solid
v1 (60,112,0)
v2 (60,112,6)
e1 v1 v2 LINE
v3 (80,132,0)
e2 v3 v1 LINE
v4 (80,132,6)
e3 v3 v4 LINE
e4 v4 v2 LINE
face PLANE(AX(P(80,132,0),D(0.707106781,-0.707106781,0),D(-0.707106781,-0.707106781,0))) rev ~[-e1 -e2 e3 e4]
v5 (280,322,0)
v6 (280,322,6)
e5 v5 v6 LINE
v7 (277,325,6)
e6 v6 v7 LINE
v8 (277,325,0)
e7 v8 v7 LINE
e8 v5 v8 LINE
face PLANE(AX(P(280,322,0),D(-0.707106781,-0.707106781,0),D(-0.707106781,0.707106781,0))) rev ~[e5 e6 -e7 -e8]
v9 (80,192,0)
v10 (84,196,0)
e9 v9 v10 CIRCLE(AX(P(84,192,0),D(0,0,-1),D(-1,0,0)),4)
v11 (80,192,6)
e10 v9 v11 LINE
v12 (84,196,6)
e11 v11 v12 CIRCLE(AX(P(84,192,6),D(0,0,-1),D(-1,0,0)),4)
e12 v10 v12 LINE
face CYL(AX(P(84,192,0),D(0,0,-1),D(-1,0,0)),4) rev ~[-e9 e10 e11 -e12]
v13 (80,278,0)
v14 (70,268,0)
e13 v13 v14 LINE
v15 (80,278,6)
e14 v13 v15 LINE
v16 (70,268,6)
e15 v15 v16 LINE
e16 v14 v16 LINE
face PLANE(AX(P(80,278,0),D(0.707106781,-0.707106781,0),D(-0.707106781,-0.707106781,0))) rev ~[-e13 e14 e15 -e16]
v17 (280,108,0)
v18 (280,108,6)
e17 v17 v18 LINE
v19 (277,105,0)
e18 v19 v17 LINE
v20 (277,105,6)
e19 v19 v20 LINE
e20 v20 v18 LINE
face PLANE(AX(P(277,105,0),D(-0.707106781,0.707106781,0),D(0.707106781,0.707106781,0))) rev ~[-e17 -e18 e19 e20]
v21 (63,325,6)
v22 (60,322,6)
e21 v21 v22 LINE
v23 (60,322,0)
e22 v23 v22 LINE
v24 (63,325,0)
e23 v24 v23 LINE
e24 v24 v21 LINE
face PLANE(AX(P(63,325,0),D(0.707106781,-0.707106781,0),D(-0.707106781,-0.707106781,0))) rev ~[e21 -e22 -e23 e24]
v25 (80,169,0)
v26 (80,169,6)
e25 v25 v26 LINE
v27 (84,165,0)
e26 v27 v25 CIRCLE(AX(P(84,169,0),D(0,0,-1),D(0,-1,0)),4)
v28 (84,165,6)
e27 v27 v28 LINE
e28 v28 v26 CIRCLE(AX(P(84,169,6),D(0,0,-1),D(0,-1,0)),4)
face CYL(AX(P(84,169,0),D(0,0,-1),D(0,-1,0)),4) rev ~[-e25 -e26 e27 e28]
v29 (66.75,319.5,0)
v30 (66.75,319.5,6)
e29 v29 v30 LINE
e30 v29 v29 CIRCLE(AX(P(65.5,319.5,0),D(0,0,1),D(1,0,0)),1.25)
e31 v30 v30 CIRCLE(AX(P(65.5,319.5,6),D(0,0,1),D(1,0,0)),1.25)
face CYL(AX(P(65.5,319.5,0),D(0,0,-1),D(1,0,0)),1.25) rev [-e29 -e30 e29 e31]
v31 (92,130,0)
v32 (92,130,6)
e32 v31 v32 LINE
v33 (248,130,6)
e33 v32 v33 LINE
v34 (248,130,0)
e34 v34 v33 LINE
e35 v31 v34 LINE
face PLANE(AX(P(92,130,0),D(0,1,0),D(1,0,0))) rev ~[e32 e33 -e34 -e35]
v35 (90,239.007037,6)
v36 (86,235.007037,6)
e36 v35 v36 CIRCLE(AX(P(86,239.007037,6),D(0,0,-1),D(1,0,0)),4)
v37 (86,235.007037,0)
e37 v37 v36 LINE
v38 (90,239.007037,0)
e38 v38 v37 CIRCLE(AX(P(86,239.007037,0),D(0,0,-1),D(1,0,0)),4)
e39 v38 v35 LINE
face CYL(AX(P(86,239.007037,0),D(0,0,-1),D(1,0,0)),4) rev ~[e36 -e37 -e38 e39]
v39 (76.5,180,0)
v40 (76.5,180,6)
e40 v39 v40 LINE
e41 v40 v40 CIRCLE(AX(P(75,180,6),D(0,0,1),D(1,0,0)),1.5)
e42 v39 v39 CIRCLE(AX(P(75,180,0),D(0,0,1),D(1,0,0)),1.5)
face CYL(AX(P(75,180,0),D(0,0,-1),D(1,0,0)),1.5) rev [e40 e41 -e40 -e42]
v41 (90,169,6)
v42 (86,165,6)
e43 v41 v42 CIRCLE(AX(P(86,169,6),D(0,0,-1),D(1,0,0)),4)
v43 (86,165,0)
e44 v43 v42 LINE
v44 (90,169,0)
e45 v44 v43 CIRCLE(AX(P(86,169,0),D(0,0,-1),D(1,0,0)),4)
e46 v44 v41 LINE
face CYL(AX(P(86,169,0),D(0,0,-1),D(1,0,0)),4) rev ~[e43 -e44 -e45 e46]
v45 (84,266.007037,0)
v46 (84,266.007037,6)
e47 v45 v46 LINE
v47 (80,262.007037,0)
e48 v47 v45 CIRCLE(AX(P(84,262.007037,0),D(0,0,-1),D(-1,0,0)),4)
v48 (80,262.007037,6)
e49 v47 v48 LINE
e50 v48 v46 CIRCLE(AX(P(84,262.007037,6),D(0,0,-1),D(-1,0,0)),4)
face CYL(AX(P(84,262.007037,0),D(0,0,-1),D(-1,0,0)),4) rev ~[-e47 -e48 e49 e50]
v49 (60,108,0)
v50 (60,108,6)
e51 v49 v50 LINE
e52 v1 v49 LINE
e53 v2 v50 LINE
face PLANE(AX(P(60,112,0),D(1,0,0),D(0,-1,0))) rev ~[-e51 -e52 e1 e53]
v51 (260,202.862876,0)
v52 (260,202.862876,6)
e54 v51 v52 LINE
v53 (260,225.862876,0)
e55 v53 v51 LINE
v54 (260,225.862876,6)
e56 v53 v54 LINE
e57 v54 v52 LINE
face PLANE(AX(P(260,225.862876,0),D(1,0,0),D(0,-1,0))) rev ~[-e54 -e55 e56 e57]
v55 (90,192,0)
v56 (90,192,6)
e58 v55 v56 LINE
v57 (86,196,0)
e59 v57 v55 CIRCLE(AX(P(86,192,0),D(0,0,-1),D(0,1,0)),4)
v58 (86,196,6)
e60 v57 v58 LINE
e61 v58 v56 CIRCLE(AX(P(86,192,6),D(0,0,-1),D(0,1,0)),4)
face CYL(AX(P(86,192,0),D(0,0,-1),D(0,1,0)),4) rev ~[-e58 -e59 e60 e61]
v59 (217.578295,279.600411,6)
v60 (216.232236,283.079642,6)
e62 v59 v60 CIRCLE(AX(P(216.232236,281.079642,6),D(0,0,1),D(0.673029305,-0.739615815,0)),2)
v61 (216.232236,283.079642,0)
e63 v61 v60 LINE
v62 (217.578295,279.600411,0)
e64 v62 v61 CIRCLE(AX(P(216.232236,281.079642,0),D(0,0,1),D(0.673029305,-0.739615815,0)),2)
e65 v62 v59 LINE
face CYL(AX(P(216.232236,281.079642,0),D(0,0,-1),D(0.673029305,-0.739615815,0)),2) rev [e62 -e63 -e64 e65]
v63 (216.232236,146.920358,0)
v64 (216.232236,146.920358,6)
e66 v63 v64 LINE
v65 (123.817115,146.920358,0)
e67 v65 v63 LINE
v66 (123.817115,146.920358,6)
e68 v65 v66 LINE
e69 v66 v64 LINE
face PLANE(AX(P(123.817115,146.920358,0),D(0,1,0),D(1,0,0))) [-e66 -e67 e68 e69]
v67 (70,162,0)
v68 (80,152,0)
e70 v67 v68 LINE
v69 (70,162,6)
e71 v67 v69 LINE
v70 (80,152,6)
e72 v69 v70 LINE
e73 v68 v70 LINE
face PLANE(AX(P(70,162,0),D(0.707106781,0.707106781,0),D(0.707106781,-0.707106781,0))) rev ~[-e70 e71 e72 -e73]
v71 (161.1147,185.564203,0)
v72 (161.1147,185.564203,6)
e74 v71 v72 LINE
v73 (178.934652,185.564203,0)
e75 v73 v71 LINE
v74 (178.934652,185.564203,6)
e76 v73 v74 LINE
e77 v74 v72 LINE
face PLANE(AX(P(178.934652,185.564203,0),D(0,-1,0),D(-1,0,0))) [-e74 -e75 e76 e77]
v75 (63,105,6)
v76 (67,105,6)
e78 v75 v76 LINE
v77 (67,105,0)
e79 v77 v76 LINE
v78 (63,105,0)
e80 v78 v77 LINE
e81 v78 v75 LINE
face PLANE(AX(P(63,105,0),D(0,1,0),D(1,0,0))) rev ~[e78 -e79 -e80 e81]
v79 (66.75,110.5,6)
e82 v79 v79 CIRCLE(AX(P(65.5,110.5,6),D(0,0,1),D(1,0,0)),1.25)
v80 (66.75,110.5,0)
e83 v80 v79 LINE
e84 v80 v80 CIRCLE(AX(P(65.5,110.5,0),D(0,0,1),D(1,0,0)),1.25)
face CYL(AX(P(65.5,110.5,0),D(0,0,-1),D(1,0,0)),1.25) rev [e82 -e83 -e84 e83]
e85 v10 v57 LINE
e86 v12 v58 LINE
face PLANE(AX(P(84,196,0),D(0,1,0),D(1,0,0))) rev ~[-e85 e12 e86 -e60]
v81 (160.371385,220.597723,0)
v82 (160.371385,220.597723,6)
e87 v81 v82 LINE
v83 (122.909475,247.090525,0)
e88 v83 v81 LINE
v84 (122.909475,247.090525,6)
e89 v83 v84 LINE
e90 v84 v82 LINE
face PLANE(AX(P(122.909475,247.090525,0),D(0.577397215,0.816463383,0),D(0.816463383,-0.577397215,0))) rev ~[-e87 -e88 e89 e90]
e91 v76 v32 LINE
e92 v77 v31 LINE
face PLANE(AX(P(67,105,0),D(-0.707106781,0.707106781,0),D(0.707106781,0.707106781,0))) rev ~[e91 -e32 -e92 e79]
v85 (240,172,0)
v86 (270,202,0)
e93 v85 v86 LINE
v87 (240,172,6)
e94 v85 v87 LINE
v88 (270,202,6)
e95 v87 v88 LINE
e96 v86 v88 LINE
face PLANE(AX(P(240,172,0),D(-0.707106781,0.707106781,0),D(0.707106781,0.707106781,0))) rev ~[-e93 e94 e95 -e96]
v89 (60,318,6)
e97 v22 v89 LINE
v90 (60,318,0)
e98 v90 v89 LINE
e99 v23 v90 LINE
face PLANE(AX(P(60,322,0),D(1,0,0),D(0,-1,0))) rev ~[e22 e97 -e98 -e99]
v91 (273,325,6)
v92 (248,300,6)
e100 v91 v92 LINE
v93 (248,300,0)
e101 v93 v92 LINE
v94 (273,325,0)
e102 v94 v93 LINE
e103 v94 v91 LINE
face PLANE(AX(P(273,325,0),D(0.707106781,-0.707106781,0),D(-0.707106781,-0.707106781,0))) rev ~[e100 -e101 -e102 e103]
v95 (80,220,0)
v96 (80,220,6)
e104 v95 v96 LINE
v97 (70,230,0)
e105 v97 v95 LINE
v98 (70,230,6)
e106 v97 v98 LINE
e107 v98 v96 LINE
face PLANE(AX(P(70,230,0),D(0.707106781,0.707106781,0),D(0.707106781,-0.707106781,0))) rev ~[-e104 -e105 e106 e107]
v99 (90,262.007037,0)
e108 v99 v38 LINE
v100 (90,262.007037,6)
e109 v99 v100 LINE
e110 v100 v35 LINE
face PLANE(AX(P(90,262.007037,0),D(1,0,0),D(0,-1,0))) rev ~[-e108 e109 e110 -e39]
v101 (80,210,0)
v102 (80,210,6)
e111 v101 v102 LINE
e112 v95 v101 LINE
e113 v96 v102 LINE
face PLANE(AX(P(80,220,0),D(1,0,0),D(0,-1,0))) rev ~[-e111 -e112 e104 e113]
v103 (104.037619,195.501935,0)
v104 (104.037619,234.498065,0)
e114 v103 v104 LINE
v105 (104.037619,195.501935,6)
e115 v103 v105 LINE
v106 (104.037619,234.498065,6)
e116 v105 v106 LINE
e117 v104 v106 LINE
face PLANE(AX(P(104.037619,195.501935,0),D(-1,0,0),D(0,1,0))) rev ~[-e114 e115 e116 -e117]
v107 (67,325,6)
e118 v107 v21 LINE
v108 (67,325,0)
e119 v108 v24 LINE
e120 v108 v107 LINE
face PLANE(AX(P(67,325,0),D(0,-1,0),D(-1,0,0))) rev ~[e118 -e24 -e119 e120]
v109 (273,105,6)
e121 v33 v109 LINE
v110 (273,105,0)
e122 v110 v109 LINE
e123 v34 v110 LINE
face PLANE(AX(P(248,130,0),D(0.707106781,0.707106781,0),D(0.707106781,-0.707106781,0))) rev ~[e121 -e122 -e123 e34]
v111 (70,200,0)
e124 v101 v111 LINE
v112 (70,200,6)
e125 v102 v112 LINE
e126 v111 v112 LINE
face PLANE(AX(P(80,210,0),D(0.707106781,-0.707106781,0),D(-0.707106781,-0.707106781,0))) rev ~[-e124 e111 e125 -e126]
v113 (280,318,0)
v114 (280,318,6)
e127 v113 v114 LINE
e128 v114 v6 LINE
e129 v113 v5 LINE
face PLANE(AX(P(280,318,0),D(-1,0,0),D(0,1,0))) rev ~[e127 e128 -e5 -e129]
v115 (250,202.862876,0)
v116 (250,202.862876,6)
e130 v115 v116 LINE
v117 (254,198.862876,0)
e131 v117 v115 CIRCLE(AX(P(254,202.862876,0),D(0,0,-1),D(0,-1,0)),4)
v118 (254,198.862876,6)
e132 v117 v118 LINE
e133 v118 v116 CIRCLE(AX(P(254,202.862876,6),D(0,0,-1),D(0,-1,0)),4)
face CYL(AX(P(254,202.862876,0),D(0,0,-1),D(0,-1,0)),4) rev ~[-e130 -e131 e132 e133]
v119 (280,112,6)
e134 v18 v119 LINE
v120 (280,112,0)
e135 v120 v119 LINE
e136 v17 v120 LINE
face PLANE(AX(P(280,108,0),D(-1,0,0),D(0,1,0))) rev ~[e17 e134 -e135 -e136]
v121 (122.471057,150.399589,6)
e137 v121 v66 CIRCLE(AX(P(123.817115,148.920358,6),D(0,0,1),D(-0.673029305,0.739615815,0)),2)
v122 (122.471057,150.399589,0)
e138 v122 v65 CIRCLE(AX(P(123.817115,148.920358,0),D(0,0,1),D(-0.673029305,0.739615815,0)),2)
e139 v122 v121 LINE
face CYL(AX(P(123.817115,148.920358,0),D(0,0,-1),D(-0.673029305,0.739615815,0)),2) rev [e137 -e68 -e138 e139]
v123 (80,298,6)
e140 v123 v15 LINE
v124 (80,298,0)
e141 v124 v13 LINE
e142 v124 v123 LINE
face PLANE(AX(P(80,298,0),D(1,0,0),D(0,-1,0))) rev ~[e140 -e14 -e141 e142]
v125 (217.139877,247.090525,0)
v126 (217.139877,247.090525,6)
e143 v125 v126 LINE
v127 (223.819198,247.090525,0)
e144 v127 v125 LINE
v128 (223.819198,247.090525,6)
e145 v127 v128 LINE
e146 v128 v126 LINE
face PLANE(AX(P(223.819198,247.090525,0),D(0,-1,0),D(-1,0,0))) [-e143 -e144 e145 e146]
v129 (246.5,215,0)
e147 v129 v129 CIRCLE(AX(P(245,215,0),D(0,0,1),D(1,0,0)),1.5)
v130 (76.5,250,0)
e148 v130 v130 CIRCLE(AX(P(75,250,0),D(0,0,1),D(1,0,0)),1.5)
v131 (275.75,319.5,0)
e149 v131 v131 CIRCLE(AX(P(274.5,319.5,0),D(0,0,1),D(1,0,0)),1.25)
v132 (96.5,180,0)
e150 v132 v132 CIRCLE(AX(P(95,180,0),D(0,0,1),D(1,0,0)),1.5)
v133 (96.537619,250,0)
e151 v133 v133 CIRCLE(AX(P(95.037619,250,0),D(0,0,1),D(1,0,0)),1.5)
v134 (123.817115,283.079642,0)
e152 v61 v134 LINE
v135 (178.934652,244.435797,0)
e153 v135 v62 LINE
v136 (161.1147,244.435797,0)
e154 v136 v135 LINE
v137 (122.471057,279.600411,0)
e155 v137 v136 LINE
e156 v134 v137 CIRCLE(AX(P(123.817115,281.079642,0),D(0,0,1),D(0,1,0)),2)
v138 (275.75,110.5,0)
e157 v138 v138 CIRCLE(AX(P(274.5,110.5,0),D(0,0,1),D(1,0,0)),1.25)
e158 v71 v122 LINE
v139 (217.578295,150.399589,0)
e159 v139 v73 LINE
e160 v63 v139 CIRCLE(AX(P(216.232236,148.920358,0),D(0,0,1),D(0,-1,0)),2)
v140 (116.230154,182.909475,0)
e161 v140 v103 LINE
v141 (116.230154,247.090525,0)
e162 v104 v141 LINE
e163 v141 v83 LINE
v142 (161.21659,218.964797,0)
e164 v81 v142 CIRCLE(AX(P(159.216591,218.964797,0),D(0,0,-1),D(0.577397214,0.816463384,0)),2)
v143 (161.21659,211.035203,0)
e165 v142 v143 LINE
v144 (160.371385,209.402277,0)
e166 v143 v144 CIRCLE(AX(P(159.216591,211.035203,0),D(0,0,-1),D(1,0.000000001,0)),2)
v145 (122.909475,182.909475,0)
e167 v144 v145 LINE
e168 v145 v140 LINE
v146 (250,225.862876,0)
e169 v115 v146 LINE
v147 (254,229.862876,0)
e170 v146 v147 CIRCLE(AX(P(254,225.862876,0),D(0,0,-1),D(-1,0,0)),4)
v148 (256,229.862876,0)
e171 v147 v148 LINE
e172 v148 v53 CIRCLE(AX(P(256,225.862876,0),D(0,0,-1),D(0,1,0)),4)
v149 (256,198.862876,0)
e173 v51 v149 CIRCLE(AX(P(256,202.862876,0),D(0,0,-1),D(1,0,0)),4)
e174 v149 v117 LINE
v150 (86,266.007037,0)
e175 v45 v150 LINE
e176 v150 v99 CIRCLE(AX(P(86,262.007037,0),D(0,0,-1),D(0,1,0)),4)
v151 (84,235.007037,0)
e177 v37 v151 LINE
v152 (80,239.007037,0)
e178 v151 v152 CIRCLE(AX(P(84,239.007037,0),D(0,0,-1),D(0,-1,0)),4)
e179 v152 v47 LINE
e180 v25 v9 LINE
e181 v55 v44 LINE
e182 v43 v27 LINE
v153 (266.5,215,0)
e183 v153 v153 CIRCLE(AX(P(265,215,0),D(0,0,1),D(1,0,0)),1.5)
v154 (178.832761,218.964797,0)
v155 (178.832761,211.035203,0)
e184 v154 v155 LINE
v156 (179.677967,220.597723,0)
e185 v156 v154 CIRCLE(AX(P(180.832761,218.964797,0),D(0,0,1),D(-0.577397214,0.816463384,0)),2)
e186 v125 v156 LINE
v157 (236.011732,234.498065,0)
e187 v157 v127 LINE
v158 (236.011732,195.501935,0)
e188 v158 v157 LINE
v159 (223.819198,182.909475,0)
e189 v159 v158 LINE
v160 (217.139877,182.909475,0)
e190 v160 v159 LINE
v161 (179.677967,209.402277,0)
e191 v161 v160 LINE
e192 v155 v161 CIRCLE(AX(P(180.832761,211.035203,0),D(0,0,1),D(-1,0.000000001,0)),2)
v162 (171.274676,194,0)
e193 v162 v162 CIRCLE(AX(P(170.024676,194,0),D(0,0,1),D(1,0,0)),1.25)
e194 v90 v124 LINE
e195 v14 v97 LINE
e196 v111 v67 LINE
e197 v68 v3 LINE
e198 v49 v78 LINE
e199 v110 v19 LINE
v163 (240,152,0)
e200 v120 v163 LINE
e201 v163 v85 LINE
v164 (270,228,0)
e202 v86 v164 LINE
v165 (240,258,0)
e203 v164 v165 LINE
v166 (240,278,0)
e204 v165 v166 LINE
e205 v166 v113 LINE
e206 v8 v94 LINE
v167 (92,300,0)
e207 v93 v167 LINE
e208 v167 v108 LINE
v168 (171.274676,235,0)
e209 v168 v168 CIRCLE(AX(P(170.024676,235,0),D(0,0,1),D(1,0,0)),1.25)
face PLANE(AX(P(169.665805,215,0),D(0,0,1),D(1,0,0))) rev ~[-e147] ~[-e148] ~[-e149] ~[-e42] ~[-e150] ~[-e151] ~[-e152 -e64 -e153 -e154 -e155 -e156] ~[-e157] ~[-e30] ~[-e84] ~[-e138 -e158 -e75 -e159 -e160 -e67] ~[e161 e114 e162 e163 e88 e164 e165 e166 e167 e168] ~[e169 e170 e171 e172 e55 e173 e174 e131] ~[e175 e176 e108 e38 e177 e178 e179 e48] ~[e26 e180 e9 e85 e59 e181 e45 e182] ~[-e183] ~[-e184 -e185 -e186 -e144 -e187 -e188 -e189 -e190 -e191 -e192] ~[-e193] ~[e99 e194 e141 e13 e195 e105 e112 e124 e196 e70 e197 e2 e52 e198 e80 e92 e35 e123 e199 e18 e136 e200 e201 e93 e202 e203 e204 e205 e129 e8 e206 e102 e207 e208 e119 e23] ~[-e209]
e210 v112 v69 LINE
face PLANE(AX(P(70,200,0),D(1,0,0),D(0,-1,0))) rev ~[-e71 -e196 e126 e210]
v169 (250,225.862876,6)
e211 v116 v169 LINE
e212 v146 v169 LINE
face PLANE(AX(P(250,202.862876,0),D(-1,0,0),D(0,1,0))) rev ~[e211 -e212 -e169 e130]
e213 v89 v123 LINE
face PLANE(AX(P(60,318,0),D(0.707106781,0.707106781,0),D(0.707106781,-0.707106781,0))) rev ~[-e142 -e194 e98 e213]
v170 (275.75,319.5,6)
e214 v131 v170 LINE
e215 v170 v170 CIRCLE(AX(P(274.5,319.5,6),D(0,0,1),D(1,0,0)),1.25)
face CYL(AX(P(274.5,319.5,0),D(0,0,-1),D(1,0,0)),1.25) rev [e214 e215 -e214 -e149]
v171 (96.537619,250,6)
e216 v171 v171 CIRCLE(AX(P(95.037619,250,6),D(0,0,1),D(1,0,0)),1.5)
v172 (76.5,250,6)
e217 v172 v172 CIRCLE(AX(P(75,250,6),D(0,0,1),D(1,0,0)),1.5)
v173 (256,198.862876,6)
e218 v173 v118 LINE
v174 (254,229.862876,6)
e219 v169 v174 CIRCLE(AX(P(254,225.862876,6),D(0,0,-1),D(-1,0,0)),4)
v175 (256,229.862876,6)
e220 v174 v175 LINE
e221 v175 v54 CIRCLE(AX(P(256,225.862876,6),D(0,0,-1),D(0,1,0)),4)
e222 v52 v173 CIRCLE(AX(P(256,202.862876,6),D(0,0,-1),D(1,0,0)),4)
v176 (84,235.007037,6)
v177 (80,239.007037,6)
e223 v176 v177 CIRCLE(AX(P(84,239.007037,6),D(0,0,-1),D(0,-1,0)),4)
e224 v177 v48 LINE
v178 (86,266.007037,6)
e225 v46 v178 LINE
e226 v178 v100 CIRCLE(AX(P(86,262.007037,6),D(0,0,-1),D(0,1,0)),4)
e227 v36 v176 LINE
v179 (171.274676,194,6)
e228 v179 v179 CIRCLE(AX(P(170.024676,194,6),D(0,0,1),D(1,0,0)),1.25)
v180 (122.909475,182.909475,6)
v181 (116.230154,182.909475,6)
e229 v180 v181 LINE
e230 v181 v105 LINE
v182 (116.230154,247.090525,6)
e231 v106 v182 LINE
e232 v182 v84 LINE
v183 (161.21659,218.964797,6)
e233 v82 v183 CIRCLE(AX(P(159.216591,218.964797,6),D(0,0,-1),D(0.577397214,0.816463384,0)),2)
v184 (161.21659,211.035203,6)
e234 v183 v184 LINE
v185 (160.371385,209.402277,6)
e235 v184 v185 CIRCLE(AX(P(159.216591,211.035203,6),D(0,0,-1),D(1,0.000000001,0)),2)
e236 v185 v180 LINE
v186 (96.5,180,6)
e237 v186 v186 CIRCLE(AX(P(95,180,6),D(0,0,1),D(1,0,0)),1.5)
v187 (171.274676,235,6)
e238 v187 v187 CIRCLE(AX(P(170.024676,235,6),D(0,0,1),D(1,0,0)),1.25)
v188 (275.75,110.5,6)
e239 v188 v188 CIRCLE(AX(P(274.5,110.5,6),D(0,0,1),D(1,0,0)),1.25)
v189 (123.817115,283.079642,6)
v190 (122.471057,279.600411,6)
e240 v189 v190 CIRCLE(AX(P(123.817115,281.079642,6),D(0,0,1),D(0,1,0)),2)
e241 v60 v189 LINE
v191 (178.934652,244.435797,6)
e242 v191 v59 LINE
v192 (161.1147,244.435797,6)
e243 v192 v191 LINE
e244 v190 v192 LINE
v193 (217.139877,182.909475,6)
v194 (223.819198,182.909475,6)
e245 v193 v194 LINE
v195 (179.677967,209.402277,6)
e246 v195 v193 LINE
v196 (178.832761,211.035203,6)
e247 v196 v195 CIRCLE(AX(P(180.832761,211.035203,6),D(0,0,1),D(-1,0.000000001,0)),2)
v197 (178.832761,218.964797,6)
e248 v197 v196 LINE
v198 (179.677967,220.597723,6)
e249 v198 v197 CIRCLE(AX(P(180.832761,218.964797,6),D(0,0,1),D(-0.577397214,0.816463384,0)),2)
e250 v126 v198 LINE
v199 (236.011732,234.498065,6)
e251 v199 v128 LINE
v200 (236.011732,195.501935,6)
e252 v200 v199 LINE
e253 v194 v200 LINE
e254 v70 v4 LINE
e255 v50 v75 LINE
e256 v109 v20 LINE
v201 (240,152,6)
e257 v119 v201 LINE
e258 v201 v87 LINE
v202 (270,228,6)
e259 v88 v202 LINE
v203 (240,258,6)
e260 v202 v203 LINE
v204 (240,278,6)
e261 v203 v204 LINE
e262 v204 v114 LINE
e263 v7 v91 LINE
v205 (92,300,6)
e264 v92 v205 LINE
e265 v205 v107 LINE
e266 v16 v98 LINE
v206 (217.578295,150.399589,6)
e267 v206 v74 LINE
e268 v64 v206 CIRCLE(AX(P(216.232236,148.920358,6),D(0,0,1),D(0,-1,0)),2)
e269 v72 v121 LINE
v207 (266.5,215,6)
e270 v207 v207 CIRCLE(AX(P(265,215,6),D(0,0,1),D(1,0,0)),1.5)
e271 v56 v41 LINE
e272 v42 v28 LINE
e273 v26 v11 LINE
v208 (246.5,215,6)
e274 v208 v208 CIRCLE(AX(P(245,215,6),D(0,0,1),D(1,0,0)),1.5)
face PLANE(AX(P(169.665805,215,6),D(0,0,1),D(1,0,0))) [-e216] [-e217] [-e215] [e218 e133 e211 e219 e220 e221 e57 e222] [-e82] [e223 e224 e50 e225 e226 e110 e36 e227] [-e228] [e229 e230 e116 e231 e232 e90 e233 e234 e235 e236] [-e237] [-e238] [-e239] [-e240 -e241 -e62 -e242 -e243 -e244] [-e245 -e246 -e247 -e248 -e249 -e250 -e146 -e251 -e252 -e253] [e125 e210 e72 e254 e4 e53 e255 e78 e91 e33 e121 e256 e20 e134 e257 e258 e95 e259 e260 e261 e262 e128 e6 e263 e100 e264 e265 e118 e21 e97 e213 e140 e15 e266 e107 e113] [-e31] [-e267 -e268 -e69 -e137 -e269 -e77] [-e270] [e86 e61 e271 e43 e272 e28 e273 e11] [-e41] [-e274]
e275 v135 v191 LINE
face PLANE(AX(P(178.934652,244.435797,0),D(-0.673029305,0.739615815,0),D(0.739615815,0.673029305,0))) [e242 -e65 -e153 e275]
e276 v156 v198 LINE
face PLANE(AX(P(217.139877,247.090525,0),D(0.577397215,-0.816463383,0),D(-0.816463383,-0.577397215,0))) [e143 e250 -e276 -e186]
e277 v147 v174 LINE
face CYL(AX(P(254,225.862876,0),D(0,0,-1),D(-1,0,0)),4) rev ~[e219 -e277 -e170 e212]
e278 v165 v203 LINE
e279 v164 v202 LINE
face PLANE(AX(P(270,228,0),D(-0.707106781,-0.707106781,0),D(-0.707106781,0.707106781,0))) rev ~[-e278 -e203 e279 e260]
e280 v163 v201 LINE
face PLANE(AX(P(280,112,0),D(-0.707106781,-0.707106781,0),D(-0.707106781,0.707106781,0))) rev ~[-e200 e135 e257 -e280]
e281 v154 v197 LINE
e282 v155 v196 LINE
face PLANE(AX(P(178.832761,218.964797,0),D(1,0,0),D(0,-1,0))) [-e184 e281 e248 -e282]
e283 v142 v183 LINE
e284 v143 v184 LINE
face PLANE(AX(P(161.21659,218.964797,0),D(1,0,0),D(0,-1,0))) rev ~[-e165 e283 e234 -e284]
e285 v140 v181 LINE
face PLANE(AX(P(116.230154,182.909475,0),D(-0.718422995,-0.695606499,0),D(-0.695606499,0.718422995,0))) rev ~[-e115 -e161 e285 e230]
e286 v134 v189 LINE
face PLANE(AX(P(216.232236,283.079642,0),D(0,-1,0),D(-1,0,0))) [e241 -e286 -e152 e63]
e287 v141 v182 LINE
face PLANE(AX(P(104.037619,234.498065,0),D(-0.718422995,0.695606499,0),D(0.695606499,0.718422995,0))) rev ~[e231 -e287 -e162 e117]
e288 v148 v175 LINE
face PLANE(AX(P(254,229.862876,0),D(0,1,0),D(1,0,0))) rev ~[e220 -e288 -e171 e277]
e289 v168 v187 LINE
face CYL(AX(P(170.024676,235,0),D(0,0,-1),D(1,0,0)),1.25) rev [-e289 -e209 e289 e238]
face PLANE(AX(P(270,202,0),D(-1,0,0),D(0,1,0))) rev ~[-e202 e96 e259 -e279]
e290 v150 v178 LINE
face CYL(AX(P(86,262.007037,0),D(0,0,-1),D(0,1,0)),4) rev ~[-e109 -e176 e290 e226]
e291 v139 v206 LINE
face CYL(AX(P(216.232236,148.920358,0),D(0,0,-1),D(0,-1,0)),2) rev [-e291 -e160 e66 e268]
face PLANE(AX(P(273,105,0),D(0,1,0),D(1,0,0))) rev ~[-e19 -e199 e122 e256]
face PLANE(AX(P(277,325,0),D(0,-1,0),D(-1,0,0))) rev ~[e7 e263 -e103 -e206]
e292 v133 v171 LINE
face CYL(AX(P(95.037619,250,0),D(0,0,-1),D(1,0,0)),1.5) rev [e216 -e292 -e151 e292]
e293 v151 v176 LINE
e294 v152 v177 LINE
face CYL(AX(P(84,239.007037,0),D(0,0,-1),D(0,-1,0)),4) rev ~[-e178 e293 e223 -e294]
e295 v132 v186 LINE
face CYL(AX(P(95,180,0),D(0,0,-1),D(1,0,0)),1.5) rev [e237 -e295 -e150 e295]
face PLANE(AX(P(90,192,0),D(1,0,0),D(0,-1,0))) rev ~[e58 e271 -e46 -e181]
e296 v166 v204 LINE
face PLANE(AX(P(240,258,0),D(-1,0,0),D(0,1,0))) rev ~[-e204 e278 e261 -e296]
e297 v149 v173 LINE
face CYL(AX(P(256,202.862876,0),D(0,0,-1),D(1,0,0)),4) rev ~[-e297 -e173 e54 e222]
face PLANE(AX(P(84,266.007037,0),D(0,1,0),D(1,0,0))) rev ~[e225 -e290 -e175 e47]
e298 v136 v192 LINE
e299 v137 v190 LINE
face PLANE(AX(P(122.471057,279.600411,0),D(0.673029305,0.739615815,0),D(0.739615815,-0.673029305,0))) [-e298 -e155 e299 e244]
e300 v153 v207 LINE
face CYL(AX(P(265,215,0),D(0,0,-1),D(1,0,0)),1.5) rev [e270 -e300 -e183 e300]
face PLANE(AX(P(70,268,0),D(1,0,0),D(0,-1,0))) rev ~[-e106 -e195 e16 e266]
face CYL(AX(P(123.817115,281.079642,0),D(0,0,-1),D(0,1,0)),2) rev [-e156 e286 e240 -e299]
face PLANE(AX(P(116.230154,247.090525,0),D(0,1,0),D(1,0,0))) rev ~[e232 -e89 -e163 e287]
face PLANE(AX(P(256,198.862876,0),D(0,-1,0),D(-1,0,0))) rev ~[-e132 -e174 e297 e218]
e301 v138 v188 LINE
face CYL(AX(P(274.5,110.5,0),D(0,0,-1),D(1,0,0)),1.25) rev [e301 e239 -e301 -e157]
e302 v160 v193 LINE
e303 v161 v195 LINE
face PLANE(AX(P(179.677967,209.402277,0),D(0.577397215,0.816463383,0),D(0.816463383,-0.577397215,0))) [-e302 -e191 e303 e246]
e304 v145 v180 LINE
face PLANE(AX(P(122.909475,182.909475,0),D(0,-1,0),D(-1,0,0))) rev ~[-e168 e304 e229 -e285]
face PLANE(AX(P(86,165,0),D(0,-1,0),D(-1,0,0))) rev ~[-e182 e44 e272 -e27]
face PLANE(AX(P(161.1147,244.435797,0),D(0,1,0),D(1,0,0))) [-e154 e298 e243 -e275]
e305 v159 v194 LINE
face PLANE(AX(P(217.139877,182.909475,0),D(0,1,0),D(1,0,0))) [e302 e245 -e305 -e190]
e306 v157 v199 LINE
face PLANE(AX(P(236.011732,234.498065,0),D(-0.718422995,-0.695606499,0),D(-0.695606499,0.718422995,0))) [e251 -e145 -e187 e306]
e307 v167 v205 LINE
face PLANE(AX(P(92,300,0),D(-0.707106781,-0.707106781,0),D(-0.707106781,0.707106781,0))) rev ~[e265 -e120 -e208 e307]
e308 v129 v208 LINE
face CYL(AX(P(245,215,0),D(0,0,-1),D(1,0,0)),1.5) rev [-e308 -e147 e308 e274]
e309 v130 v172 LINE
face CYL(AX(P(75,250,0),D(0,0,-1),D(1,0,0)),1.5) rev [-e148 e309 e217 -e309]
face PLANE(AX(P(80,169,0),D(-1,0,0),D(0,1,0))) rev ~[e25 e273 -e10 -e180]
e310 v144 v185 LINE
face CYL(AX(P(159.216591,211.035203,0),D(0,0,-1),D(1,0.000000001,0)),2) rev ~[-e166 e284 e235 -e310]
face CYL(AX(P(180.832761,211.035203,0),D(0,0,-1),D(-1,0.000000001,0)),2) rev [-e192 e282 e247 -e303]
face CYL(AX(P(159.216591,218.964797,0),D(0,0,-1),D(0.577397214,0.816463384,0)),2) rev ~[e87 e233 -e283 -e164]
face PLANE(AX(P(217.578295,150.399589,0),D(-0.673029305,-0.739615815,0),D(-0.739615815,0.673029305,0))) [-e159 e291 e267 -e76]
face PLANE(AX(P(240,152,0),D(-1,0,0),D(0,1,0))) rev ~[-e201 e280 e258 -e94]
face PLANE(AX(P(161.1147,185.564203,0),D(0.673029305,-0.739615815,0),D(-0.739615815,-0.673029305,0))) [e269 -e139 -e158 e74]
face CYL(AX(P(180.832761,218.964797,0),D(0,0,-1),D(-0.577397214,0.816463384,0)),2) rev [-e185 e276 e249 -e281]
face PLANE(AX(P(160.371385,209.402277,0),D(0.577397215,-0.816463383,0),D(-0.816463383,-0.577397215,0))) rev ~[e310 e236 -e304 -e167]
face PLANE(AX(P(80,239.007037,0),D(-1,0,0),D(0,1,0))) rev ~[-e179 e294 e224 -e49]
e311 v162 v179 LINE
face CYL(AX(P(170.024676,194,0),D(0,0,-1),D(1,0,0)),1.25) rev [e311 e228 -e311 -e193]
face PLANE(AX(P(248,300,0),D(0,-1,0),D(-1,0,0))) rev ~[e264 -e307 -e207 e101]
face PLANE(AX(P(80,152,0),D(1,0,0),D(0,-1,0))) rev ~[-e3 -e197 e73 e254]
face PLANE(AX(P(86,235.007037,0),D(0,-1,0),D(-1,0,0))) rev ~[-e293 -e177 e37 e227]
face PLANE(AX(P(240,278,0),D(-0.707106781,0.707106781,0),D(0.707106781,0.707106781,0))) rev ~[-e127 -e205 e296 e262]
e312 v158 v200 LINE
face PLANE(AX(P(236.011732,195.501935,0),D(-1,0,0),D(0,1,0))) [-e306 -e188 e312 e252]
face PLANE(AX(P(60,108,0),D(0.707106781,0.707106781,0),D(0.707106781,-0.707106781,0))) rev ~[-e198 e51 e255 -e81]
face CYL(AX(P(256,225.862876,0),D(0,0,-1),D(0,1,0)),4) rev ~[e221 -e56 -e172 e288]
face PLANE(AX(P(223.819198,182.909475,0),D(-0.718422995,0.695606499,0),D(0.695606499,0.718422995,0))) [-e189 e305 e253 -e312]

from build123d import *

# Parameters (mm, degrees)
FRAME_R             = 1.5
FRAME_R_2           = 1.25
BOSS_EXTRUDE1_DEPTH = 6


with BuildPart() as part:
    # FRAME → Boss-Extrude1 (new body)
    with BuildSketch(Plane.XY):
        Polygon((65, 325), (63, 325), (60, 322), (60, 320), (60, 318), (80, 298), (80, 278), (70, 268), (70, 230), (80, 220), (80, 210), (70, 200), (70, 162), (80, 152), (80, 132), (60, 112), (60, 108), (63, 105), (65, 105), (67, 105), (92, 130), (248, 130), (273, 105), (275, 105), (277, 105), (280, 108), (280, 112), (260, 132), (240, 152), (240, 172), (260, 192), (270, 202), (270, 228), (260, 238), (240, 258), (240, 278), (280, 318), (280, 321), (280, 322), (277, 325), (273, 325), (250, 302), (248, 300), (92, 300), (67, 325), align=None)
        with Locations((75, 250)):
            Circle(FRAME_R, mode=Mode.SUBTRACT)
        with Locations((95.037619408, 250)):
            Circle(FRAME_R, mode=Mode.SUBTRACT)
        with Locations((75, 180)):
            Circle(FRAME_R, mode=Mode.SUBTRACT)
        with Locations((95, 180)):
            Circle(FRAME_R, mode=Mode.SUBTRACT)
        with Locations((265, 215)):
            Circle(FRAME_R, mode=Mode.SUBTRACT)
        with Locations((245, 215)):
            Circle(FRAME_R, mode=Mode.SUBTRACT)
        with Locations((65.5, 319.5)):
            Circle(FRAME_R_2, mode=Mode.SUBTRACT)
        with Locations((274.5, 110.5)):
            Circle(FRAME_R_2, mode=Mode.SUBTRACT)
        with Locations((274.5, 319.5)):
            Circle(FRAME_R_2, mode=Mode.SUBTRACT)
        with Locations((65.5, 110.5)):
            Circle(FRAME_R_2, mode=Mode.SUBTRACT)
        with Locations((170.024675872, 194)):
            Circle(FRAME_R_2, mode=Mode.SUBTRACT)
        with Locations((170.024675872, 235)):
            Circle(FRAME_R_2, mode=Mode.SUBTRACT)
        with BuildLine():
            Line((161.216590497, 218.964796722), (161.216590497, 211.035203278))
            ThreePointArc((161.216590497, 211.035203278), (160.992764596, 210.115852653), (160.371384926, 209.402276511))
            Line((160.371384926, 209.402276511), (122.909474642, 182.909474642))
            Line((122.909474642, 182.909474642), (116.23015359, 182.909474642))
            Line((116.23015359, 182.909474642), (104.037619408, 195.501934511))
            Line((104.037619408, 195.501934511), (104.037619408, 234.498065489))
            Line((104.037619408, 234.498065489), (116.23015359, 247.090525358))
            Line((116.23015359, 247.090525358), (122.909474642, 247.090525358))
            Line((122.909474642, 247.090525358), (160.371384926, 220.597723489))
            ThreePointArc((160.371384926, 220.597723489), (160.992764596, 219.884147347), (161.216590497, 218.964796722))
        make_face(mode=Mode.SUBTRACT)
        with BuildLine():
            Line((122.471056888, 279.600410825), (161.114699893, 244.435797428))
            Line((161.114699893, 244.435797428), (178.934651851, 244.435797428))
            Line((178.934651851, 244.435797428), (217.578294856, 279.600410825))
            ThreePointArc((217.578294856, 279.600410825), (218.0975061, 281.801285282), (216.232236245, 283.079642455))
            Line((216.232236245, 283.079642455), (123.817115499, 283.079642455))
            ThreePointArc((123.817115499, 283.079642455), (121.951845644, 281.801285282), (122.471056888, 279.600410825))
        make_face(mode=Mode.SUBTRACT)
        with BuildLine():
            Line((217.139877102, 247.090525358), (179.677966818, 220.597723489))
            ThreePointArc((179.677966818, 220.597723489), (179.056587148, 219.884147347), (178.832761247, 218.964796722))
            Line((178.832761247, 218.964796722), (178.832761247, 211.035203278))
            ThreePointArc((178.832761247, 211.035203278), (179.056587148, 210.115852653), (179.677966818, 209.402276511))
            Line((179.677966818, 209.402276511), (217.139877102, 182.909474642))
            Line((217.139877102, 182.909474642), (223.819198154, 182.909474642))
            Line((223.819198154, 182.909474642), (236.011732336, 195.501934511))
            Line((236.011732336, 195.501934511), (236.011732336, 234.498065489))
            Line((236.011732336, 234.498065489), (223.819198154, 247.090525358))
            Line((223.819198154, 247.090525358), (217.139877102, 247.090525358))
        make_face(mode=Mode.SUBTRACT)
        with BuildLine():
            Line((217.578294856, 150.399589175), (178.934651851, 185.564202572))
            Line((178.934651851, 185.564202572), (161.114699893, 185.564202572))
            Line((161.114699893, 185.564202572), (122.471056888, 150.399589175))
            ThreePointArc((122.471056888, 150.399589175), (121.951845644, 148.198714718), (123.817115499, 146.920357545))
            Line((123.817115499, 146.920357545), (216.232236245, 146.920357545))
            ThreePointArc((216.232236245, 146.920357545), (218.0975061, 148.198714718), (217.578294856, 150.399589175))
        make_face(mode=Mode.SUBTRACT)
        with BuildLine():
            Line((80, 169), (80, 192))
            ThreePointArc((80, 192), (81.171572875, 194.828427125), (84, 196))
            Line((84, 196), (86, 196))
            ThreePointArc((86, 196), (88.828427125, 194.828427125), (90, 192))
            Line((90, 192), (90, 169))
            ThreePointArc((90, 169), (88.828427125, 166.171572875), (86, 165))
            Line((86, 165), (84, 165))
            ThreePointArc((84, 165), (81.171572875, 166.171572875), (80, 169))
        make_face(mode=Mode.SUBTRACT)
        with BuildLine():
            Line((80, 239.007036896), (80, 262.007036896))
            ThreePointArc((80, 262.007036896), (81.171572875, 264.835464021), (84, 266.007036896))
            Line((84, 266.007036896), (86, 266.007036896))
            ThreePointArc((86, 266.007036896), (88.828427125, 264.835464021), (90, 262.007036896))
            Line((90, 262.007036896), (90, 239.007036896))
            ThreePointArc((90, 239.007036896), (88.828427125, 236.178609771), (86, 235.007036896))
            Line((86, 235.007036896), (84, 235.007036896))
            ThreePointArc((84, 235.007036896), (81.171572875, 236.178609771), (80, 239.007036896))
        make_face(mode=Mode.SUBTRACT)
        with BuildLine():
            Line((250, 202.862876393), (250, 225.862876393))
            ThreePointArc((250, 225.862876393), (251.171572875, 228.691303518), (254, 229.862876393))
            Line((254, 229.862876393), (256, 229.862876393))
            ThreePointArc((256, 229.862876393), (258.828427125, 228.691303518), (260, 225.862876393))
            Line((260, 225.862876393), (260, 202.862876393))
            ThreePointArc((260, 202.862876393), (258.828427125, 200.034449268), (256, 198.862876393))
            Line((256, 198.862876393), (254, 198.862876393))
            ThreePointArc((254, 198.862876393), (251.171572875, 200.034449268), (250, 202.862876393))
        make_face(mode=Mode.SUBTRACT)
    extrude(amount=BOSS_EXTRUDE1_DEPTH)


solid = part.part
